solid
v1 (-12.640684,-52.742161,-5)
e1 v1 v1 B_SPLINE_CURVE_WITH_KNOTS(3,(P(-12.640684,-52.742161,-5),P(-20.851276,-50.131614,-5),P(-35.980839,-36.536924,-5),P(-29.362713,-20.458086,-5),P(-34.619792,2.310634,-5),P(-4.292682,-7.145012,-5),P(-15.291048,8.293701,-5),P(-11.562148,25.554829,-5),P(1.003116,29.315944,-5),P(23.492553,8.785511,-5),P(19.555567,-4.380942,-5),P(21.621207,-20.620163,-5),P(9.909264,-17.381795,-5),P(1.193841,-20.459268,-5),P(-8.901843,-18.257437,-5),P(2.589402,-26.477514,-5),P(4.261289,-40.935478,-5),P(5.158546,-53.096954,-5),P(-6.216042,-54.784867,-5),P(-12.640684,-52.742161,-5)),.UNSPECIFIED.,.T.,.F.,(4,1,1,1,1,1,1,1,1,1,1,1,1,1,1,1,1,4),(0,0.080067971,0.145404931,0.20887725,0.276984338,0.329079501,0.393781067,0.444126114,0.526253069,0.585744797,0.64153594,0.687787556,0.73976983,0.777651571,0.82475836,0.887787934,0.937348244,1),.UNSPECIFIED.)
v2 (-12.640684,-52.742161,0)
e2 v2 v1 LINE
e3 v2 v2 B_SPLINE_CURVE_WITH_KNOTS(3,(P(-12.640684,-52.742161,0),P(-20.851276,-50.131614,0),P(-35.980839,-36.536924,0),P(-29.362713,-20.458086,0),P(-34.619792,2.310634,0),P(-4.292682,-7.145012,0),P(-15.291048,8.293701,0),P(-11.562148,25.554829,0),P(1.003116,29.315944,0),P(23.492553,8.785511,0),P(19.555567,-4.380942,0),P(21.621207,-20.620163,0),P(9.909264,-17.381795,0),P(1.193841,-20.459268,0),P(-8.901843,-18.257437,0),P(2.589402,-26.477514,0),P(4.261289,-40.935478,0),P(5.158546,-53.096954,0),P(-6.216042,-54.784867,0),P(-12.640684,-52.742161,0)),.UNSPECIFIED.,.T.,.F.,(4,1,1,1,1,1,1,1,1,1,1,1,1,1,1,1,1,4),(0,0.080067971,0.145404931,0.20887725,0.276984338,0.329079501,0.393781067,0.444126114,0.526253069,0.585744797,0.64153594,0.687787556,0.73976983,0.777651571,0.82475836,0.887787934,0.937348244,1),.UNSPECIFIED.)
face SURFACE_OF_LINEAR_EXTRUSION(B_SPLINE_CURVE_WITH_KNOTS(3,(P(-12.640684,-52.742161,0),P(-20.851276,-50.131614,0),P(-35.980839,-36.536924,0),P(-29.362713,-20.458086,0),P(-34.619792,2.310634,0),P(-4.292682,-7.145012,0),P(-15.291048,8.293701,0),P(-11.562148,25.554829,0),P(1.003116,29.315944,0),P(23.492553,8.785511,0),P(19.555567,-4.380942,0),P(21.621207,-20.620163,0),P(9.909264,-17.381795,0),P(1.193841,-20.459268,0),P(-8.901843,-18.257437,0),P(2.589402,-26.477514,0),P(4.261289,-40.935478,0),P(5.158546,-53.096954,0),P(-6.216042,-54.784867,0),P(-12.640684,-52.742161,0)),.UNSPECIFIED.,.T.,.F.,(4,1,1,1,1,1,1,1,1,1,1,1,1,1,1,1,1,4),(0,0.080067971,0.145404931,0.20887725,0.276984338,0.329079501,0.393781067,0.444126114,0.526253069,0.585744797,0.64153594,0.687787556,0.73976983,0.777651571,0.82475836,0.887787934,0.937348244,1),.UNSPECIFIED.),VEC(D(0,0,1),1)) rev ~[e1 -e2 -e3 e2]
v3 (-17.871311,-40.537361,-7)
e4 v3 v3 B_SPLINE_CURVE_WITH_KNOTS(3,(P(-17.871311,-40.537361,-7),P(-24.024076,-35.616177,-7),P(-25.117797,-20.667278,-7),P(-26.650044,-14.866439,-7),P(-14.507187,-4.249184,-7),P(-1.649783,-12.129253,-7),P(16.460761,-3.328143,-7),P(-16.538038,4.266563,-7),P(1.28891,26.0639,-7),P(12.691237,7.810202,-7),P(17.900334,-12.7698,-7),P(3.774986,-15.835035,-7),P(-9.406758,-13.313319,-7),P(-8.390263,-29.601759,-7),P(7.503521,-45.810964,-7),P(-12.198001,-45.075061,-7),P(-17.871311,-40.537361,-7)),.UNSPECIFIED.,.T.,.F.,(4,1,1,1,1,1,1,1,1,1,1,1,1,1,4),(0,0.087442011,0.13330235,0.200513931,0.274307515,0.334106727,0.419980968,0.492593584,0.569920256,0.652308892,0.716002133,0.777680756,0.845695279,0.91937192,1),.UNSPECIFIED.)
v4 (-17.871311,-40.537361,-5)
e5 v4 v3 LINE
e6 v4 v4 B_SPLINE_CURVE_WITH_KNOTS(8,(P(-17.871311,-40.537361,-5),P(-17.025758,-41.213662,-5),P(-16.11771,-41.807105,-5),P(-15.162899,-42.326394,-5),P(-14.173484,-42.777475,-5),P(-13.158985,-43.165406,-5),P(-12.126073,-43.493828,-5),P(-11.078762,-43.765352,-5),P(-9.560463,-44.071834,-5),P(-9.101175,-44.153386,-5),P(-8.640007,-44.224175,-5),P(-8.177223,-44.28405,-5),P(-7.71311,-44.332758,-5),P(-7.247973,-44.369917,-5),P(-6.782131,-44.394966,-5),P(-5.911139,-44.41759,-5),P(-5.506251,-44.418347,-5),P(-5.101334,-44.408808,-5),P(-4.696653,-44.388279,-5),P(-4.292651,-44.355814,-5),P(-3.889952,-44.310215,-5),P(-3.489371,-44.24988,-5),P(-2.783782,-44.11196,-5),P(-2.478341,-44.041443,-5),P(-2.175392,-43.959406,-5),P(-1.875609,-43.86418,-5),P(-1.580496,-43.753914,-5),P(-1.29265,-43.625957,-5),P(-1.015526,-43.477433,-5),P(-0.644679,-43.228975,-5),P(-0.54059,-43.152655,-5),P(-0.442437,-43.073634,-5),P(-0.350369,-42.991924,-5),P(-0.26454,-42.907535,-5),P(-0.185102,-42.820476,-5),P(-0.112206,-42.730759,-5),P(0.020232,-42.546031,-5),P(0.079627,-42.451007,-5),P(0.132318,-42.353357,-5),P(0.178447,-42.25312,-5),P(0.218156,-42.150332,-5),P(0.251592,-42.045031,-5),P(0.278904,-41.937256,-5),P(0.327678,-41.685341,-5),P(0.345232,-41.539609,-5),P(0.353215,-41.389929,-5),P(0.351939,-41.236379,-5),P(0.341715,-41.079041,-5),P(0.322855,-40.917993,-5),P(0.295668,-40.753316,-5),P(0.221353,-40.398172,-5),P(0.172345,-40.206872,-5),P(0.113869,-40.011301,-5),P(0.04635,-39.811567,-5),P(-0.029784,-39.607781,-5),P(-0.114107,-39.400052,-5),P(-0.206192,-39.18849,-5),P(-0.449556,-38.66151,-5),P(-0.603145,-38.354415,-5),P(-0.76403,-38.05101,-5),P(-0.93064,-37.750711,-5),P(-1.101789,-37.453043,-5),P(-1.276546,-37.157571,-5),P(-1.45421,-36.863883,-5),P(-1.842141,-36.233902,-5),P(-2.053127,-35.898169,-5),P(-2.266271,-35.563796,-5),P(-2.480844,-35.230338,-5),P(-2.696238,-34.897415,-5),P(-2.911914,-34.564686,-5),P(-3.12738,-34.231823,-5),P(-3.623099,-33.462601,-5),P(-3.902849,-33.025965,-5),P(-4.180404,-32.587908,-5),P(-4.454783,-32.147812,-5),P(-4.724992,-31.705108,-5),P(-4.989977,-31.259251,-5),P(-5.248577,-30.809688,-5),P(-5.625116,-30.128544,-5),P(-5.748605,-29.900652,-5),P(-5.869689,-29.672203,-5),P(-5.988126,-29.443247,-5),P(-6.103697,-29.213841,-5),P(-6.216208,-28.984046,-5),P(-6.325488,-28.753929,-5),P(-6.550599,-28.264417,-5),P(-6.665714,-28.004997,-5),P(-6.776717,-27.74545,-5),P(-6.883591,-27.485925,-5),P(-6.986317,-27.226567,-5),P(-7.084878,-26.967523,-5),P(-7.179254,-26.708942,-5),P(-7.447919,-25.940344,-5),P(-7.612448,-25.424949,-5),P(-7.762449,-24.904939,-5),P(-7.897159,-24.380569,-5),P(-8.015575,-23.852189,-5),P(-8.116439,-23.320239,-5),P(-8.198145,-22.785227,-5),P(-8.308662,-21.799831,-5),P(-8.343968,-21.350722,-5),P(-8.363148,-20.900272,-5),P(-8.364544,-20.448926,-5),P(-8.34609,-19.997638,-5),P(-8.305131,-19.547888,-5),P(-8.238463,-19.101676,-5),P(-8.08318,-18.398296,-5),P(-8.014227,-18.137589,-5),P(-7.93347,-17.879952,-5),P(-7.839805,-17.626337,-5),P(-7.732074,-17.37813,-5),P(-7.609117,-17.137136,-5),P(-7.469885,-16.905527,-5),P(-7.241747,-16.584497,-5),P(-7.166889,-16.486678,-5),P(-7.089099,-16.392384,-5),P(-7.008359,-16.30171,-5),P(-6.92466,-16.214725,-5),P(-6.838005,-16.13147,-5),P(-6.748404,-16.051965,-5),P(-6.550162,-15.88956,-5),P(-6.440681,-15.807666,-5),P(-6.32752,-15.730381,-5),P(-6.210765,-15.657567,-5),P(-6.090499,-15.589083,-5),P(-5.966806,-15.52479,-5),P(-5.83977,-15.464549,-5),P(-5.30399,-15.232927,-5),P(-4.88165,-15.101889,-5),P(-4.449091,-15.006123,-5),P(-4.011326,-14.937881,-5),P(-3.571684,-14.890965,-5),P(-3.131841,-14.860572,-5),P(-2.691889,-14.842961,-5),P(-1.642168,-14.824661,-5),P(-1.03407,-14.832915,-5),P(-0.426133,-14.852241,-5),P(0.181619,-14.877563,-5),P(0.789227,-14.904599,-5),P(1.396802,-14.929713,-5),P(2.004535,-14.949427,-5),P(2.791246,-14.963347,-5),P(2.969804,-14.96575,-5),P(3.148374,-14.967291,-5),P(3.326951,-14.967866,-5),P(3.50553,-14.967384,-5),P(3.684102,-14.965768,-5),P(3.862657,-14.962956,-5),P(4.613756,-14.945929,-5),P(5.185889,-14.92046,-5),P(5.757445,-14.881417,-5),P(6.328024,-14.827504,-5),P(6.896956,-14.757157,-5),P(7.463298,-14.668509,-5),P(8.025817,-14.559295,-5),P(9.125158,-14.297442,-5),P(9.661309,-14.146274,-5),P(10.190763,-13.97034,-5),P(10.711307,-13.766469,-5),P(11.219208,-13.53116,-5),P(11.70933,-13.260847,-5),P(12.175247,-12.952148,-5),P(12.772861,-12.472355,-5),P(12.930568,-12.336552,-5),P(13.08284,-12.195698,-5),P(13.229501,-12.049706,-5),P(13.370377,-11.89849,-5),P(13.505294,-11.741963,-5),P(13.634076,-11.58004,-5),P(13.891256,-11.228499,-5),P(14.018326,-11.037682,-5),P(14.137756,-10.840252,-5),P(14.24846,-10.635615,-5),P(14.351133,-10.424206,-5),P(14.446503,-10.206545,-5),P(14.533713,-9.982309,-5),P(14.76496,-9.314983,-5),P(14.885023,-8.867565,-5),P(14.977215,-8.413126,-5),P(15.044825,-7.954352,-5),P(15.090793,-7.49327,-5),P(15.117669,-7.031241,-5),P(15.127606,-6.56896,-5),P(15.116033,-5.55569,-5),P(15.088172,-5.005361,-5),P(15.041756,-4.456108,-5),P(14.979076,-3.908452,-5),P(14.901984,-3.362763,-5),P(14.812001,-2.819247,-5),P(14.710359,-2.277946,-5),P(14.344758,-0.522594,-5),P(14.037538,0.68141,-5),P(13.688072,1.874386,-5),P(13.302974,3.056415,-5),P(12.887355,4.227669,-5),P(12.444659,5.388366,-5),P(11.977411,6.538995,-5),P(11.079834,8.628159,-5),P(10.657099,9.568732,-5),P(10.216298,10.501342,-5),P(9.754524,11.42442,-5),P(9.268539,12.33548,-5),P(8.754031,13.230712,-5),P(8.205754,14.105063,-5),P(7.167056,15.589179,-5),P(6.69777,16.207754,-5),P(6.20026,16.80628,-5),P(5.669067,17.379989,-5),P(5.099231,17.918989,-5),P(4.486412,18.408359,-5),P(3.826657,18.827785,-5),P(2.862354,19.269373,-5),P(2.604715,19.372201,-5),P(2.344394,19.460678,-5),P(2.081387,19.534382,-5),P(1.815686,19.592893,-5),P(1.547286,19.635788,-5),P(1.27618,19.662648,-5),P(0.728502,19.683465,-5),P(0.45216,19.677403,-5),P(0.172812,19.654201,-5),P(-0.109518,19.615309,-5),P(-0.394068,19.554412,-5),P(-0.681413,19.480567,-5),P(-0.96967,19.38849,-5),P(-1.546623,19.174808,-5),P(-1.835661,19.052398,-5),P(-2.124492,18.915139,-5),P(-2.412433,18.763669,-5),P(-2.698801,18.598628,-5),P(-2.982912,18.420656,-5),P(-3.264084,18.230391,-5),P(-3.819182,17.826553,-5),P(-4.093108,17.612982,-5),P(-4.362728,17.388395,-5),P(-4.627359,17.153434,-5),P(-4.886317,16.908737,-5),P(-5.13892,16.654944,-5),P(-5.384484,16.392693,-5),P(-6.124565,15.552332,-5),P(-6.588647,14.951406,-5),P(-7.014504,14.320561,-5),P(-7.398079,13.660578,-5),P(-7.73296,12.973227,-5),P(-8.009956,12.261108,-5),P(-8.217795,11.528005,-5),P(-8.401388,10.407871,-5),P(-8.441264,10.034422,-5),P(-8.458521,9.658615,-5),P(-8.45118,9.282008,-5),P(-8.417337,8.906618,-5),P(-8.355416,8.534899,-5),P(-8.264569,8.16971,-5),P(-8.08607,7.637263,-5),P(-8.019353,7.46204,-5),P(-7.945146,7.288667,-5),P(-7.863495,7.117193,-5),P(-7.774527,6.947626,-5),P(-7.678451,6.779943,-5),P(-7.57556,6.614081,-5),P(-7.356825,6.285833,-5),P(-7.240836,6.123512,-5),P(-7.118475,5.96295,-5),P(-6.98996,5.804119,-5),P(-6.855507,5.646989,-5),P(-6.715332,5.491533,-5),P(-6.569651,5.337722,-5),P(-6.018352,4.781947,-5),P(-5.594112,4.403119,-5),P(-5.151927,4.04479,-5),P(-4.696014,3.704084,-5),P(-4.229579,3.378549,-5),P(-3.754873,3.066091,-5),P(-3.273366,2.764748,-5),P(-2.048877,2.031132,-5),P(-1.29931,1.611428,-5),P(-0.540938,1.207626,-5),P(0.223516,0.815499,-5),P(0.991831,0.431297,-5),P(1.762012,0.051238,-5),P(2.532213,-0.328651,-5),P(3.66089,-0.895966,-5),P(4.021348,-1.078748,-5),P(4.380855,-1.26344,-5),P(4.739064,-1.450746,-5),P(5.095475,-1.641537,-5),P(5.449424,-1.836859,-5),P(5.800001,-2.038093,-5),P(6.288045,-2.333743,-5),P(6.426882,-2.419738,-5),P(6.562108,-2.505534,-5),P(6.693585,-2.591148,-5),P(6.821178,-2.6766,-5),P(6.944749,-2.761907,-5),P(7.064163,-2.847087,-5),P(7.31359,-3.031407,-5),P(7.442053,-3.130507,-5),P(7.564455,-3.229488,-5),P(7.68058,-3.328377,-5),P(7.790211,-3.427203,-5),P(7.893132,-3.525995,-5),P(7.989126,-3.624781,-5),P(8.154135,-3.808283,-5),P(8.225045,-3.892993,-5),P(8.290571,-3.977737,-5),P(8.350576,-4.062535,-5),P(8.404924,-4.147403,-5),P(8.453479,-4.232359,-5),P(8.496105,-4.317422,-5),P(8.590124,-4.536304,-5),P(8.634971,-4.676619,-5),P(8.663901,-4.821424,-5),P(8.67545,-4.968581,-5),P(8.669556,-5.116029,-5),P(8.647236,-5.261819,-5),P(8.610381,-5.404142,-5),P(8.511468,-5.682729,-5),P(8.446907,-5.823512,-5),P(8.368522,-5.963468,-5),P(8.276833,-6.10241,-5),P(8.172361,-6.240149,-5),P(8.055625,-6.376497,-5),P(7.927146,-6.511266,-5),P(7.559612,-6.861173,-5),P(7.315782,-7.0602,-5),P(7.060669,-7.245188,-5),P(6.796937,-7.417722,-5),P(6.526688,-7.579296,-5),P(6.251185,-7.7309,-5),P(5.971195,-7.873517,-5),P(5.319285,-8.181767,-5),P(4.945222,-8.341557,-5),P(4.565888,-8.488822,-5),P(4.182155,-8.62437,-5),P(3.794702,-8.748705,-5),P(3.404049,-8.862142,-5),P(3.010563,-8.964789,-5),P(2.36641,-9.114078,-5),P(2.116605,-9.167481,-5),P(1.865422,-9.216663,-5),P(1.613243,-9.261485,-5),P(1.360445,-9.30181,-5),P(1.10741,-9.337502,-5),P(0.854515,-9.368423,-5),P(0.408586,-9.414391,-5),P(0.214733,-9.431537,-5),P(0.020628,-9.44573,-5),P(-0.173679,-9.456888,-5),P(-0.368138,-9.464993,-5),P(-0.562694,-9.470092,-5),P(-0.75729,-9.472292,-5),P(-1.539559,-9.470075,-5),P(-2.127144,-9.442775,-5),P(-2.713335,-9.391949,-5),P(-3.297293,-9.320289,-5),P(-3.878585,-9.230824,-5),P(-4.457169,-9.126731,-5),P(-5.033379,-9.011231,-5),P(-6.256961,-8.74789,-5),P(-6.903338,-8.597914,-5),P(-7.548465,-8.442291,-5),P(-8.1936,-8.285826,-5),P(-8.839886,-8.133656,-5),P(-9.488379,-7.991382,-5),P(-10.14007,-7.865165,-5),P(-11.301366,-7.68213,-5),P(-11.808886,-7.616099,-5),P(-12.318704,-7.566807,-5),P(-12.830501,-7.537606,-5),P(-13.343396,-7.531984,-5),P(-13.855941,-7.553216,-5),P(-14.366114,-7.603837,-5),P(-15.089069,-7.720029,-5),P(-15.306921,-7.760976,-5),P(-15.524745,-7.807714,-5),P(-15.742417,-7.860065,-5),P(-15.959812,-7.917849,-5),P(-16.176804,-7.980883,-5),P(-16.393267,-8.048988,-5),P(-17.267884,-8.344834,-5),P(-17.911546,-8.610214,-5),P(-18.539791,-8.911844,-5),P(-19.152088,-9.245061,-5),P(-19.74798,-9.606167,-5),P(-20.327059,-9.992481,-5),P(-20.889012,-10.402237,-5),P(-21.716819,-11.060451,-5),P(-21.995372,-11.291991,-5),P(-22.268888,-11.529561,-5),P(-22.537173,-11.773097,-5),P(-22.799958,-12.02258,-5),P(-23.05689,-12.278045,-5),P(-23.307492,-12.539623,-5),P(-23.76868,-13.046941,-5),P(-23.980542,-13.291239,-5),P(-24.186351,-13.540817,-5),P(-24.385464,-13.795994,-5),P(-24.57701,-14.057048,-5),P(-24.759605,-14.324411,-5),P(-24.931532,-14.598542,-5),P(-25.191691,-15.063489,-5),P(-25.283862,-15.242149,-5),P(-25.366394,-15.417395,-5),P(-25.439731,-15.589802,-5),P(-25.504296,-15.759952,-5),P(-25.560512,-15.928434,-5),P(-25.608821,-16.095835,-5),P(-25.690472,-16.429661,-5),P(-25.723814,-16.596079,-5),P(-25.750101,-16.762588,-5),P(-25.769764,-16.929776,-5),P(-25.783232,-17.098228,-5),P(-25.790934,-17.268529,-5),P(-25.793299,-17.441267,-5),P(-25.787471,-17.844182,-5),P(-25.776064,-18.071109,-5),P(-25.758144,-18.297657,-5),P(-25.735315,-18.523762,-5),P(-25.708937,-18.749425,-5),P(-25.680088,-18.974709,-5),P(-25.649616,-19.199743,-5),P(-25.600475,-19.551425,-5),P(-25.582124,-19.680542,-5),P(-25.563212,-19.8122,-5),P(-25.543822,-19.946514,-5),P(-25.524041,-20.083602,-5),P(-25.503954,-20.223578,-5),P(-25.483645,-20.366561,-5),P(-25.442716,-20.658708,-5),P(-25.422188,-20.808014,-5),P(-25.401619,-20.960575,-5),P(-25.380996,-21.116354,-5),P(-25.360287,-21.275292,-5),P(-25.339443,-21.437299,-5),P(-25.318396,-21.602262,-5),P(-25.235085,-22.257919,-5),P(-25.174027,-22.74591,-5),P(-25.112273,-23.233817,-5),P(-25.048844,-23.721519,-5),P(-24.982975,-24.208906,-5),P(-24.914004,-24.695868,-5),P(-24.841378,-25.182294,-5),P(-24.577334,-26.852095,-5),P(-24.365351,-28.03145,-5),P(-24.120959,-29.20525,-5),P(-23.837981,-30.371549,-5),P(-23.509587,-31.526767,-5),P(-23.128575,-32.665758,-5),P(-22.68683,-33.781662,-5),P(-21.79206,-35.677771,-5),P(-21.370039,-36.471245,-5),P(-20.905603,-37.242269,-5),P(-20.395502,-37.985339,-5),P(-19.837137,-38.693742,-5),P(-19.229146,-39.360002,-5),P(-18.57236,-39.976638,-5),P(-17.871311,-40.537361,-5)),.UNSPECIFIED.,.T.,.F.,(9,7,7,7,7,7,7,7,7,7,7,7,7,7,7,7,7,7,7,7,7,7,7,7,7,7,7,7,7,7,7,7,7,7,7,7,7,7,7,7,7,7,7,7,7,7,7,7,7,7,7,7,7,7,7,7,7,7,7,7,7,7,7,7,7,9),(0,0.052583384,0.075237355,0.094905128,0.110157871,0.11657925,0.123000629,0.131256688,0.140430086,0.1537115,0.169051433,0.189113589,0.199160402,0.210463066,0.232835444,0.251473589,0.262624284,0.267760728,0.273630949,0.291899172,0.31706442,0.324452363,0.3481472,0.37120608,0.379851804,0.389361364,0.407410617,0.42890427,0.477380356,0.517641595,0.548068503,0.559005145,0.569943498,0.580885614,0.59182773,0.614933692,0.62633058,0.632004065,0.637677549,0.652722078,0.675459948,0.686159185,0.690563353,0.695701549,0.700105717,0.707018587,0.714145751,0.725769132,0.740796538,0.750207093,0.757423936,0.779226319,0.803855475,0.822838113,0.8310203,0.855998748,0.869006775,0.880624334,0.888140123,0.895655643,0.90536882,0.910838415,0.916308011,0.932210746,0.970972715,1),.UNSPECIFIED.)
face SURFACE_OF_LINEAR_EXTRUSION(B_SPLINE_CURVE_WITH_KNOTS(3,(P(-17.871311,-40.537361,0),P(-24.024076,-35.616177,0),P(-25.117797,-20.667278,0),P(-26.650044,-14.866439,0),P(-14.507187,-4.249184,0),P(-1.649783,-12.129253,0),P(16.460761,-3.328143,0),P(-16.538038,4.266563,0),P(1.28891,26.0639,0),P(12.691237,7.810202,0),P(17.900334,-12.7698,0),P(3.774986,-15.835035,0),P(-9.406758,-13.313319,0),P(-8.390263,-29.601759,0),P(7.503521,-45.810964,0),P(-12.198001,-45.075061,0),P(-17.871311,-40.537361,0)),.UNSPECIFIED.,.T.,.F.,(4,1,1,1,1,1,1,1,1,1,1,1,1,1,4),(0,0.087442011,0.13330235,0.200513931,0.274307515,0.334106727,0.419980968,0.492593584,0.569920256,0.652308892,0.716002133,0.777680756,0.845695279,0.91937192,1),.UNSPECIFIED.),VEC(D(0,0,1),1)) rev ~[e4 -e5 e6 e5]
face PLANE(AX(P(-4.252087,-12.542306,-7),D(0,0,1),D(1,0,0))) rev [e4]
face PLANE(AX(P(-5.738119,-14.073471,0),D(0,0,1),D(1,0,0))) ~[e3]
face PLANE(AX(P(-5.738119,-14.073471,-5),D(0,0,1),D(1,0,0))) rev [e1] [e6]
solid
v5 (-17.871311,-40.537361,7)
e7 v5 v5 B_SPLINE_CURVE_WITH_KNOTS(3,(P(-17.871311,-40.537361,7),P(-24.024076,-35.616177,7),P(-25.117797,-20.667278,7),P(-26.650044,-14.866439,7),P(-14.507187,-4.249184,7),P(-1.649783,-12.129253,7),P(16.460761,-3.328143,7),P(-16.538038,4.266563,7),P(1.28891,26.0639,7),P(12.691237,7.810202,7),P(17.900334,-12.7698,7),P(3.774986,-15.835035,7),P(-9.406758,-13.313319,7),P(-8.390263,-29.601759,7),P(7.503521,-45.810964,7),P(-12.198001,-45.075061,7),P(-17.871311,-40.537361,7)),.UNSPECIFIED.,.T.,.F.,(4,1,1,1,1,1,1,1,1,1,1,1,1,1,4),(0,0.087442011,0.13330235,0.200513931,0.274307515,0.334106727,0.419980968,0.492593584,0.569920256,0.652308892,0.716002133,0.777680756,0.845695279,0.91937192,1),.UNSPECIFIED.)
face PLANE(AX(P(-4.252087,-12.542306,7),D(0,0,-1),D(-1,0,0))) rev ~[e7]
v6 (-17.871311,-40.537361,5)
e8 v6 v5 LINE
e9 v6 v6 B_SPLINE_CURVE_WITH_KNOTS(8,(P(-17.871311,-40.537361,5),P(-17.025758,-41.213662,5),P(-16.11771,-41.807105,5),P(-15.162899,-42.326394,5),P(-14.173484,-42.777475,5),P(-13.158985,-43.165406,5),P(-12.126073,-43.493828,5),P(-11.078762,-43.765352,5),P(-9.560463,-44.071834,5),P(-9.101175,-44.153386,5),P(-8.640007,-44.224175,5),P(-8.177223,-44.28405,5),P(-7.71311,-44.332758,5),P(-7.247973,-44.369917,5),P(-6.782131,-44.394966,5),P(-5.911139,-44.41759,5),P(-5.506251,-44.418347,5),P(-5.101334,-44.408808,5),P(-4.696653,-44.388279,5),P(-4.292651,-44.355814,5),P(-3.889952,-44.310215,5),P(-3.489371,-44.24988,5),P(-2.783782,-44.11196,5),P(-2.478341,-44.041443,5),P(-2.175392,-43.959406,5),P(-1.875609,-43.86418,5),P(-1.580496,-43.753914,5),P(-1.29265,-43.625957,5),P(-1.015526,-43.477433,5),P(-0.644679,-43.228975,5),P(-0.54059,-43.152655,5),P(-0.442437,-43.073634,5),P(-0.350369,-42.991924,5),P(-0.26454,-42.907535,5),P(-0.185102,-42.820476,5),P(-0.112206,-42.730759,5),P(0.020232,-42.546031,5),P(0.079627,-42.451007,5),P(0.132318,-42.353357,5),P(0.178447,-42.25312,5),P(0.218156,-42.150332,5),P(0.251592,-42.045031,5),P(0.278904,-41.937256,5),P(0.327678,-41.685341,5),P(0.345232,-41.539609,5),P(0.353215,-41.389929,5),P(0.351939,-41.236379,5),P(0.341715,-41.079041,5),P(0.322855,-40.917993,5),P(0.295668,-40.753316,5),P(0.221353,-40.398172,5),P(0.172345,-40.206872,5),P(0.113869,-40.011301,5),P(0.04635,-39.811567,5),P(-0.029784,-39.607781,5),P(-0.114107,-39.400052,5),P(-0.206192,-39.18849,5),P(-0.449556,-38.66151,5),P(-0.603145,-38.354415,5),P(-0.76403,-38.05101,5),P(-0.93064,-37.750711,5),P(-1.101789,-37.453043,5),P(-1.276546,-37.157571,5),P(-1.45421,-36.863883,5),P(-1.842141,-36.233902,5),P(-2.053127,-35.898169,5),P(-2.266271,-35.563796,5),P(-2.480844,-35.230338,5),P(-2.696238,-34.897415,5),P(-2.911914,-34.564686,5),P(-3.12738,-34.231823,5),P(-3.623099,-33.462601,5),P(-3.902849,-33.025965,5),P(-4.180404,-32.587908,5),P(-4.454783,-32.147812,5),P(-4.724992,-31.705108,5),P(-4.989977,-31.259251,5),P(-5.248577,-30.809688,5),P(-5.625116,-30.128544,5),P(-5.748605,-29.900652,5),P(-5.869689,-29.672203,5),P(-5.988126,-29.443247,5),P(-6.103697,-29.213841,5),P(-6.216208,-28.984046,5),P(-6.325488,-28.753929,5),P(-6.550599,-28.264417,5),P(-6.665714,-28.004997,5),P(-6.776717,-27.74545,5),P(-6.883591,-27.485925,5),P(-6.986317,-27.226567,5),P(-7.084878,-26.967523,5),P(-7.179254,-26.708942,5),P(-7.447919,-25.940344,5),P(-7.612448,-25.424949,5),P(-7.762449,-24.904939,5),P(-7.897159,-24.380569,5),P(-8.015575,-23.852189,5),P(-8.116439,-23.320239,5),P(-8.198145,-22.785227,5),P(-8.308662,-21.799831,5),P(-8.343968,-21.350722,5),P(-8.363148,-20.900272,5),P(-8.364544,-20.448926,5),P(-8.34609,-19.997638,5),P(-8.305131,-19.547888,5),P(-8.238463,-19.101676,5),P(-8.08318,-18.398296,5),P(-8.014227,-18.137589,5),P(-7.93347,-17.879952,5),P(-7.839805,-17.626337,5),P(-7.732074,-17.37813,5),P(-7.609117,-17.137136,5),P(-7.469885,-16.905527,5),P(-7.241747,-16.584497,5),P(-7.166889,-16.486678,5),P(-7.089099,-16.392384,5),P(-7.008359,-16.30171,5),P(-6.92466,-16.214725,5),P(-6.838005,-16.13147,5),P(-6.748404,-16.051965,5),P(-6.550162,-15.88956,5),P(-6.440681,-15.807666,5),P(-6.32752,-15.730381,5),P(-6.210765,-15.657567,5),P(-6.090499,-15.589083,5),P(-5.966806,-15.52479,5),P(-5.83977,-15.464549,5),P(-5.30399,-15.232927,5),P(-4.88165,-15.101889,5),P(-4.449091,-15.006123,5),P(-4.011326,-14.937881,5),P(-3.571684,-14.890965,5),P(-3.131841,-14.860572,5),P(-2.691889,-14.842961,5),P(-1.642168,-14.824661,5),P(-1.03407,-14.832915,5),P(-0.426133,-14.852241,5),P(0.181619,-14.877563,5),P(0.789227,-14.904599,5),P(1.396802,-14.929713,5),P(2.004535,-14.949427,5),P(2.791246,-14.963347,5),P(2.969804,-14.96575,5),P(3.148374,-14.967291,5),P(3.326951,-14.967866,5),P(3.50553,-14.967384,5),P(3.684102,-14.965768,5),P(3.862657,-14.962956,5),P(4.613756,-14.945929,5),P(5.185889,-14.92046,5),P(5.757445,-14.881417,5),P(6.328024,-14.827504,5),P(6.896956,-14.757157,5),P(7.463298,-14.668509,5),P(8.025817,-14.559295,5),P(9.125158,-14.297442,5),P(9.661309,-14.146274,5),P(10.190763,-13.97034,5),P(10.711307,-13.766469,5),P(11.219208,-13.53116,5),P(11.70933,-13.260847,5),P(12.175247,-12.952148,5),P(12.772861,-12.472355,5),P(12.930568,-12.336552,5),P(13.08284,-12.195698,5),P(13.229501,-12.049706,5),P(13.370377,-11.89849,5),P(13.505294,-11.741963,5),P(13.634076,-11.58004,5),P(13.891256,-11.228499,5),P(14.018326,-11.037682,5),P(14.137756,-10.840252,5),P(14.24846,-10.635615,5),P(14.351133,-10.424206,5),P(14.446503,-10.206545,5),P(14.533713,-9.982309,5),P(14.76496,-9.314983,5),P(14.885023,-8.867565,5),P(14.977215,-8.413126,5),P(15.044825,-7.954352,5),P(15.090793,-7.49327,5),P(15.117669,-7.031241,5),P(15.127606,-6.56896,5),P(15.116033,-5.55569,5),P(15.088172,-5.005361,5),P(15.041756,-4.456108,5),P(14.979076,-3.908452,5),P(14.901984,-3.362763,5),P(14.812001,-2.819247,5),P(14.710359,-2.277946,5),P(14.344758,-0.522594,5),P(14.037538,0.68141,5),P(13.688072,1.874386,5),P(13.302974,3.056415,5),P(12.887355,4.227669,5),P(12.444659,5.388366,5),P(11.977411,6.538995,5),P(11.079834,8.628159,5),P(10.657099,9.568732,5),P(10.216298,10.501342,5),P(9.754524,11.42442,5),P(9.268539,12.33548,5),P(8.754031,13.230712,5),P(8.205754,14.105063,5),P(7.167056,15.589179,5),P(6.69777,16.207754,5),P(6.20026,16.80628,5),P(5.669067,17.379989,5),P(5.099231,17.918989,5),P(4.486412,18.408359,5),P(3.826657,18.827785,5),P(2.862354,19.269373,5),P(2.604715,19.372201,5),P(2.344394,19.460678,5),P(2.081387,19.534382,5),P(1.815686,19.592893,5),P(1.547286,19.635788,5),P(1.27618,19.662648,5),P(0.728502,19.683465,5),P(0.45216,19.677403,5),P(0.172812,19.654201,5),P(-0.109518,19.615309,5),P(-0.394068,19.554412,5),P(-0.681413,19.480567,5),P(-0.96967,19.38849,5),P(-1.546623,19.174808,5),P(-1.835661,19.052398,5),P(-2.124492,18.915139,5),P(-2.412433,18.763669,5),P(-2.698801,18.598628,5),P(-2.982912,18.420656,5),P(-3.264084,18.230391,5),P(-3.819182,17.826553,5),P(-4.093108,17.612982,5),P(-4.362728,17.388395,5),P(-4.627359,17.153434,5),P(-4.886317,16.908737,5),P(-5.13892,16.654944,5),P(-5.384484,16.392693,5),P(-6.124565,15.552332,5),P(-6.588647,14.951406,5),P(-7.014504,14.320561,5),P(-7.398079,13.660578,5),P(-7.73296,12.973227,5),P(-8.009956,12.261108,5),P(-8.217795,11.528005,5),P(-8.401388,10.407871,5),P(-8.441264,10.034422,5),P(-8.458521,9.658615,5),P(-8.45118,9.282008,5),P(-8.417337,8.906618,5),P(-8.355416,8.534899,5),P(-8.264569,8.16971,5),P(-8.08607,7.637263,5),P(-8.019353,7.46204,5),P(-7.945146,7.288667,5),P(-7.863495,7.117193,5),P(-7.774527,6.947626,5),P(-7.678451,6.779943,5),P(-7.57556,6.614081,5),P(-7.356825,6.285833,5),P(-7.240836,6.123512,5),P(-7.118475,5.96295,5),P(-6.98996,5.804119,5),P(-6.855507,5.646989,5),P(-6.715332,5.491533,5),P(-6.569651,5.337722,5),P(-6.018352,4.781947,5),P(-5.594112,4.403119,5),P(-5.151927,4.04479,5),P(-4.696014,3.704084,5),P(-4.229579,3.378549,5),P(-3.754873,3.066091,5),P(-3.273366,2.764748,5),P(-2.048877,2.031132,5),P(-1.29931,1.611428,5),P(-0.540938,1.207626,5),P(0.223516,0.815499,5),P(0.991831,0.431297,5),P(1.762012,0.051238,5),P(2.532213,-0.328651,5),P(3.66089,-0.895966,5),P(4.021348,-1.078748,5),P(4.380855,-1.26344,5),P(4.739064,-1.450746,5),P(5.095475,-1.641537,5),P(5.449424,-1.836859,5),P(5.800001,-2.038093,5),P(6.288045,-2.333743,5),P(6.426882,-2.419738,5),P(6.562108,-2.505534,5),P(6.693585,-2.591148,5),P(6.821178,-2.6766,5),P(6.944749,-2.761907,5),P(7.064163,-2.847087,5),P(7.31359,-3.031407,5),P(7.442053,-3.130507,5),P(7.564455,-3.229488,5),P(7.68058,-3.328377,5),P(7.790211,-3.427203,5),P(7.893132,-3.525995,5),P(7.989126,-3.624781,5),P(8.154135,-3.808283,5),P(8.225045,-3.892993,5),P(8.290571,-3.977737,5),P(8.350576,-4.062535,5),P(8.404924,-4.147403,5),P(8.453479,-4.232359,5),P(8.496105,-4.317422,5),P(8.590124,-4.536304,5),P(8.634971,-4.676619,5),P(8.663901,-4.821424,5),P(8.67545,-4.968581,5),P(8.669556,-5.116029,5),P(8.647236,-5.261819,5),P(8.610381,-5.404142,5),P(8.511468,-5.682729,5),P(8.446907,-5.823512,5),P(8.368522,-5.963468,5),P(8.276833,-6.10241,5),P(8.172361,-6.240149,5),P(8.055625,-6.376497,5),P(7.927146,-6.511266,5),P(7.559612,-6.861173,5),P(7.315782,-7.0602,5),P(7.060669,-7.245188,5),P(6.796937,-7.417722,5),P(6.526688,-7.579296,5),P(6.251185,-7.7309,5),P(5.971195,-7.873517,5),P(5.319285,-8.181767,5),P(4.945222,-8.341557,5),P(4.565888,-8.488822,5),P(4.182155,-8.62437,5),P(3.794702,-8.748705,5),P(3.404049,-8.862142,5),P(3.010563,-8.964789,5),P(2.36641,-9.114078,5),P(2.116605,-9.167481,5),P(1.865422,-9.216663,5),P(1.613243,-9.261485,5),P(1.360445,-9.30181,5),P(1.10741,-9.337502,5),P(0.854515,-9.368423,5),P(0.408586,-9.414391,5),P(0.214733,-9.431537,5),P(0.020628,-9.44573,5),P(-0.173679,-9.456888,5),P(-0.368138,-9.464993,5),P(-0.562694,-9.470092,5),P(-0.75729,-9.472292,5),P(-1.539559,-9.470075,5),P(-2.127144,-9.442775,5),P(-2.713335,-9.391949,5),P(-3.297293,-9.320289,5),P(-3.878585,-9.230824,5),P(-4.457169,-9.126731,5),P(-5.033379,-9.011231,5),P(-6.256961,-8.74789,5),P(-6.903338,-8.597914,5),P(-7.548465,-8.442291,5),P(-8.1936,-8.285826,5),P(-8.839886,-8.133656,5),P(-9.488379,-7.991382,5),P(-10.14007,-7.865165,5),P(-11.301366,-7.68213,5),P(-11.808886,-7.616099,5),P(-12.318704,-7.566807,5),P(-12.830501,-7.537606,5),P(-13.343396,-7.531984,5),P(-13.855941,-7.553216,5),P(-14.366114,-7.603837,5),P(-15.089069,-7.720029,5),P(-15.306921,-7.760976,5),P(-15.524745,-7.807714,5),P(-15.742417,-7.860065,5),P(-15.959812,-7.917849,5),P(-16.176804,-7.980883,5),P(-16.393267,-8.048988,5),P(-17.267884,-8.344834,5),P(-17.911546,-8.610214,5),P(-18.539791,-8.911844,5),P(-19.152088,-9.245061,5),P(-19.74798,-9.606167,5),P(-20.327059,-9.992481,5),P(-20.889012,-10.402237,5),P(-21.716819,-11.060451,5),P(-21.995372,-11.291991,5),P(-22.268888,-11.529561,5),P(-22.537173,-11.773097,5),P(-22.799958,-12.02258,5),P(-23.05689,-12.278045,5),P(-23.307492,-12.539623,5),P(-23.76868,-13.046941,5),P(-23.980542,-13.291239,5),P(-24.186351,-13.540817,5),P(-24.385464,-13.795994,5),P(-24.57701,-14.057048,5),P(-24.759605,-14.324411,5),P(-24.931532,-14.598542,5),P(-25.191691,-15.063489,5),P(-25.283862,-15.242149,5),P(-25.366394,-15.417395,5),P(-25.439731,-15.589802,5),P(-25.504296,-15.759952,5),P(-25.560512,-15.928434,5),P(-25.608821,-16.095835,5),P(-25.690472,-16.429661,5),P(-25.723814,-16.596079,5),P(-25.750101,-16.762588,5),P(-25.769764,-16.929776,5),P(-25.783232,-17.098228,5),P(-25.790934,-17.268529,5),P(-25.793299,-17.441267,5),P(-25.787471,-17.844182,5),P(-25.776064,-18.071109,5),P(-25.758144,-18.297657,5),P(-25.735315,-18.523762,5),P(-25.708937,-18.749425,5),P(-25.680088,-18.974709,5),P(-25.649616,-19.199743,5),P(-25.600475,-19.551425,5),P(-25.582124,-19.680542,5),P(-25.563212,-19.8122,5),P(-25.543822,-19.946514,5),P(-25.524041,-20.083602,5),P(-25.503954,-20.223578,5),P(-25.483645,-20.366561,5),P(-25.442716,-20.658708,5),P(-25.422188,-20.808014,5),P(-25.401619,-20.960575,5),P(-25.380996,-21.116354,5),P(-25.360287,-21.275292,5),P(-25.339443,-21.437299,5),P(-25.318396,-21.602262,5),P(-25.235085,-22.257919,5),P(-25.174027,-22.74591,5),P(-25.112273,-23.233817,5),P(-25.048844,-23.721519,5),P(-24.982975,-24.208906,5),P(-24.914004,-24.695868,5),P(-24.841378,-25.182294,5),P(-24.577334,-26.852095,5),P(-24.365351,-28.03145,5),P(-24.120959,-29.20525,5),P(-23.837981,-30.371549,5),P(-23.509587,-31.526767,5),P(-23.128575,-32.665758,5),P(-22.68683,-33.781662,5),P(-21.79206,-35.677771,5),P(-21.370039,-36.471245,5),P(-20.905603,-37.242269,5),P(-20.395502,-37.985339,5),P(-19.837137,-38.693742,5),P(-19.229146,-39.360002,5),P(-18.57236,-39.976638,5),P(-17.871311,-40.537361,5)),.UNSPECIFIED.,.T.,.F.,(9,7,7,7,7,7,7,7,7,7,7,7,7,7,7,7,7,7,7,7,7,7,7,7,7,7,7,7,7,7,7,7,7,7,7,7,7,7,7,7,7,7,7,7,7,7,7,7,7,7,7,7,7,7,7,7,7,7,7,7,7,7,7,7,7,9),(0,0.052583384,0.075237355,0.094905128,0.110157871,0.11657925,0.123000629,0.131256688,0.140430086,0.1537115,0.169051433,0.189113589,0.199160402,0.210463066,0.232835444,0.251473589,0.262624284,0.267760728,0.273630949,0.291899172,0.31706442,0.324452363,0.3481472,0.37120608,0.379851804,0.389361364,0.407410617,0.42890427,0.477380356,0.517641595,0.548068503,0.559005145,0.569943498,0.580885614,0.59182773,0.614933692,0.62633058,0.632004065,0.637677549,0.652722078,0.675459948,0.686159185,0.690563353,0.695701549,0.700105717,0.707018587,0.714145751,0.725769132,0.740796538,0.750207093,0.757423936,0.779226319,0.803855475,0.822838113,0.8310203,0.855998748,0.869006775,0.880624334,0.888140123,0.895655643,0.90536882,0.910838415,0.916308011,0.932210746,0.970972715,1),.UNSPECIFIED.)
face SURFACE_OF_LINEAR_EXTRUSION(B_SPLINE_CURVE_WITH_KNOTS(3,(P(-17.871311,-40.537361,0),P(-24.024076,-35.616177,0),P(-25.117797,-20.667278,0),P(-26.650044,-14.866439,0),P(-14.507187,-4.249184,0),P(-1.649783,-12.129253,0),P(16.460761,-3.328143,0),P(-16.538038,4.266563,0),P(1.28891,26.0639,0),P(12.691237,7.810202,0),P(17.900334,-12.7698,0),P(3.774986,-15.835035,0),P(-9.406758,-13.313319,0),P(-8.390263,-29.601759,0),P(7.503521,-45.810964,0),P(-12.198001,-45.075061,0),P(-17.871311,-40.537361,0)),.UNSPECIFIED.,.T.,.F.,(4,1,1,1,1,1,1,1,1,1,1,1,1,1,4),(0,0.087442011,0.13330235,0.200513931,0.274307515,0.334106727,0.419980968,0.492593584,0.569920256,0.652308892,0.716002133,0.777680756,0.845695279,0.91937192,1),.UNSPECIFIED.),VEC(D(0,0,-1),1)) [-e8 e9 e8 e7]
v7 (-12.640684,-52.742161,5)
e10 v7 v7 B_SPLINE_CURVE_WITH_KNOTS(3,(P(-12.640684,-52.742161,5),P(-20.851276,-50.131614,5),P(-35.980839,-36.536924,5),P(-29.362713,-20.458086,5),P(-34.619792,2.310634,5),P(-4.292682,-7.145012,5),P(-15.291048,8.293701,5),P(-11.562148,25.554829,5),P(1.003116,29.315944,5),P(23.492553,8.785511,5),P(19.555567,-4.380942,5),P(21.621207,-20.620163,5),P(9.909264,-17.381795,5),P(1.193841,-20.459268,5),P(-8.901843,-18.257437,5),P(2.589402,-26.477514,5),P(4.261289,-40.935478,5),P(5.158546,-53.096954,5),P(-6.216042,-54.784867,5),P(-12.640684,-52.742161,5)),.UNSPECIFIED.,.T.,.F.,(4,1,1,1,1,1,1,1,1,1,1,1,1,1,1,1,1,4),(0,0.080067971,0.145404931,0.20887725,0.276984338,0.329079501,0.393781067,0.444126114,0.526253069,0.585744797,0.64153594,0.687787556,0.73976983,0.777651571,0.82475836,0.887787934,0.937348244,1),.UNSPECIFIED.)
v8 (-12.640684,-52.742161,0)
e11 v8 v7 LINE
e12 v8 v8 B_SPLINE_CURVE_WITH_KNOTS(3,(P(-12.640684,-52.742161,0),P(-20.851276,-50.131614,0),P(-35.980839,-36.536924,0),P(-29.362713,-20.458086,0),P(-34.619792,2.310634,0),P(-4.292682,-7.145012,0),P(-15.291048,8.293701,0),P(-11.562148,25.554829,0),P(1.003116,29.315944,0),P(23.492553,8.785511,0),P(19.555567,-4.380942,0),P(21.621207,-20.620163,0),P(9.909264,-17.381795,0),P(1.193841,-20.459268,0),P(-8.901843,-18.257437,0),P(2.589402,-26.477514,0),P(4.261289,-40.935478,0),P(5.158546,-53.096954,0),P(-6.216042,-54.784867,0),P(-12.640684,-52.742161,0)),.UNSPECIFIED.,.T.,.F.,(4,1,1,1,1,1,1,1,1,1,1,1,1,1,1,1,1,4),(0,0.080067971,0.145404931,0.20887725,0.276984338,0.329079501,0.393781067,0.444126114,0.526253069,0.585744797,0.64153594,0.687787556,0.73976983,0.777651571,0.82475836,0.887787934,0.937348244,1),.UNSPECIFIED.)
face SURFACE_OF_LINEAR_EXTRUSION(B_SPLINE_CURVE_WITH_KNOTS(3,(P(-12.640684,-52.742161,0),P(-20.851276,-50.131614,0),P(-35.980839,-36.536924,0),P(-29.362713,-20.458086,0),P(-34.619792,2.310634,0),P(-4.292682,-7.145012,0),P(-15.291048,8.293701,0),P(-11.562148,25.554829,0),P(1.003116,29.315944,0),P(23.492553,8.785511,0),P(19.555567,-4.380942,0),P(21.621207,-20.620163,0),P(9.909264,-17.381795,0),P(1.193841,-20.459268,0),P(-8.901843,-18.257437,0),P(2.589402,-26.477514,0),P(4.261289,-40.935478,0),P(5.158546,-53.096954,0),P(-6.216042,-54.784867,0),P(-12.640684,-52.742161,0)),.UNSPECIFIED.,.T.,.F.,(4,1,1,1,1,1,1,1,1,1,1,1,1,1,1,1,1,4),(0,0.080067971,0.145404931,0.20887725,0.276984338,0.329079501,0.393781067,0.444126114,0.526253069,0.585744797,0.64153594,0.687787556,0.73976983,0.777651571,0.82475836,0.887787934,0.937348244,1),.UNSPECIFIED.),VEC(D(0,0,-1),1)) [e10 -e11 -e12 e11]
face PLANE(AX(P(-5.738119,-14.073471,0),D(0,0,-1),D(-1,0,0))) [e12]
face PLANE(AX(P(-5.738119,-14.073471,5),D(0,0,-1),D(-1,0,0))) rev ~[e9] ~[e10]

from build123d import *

# Parameters (mm, degrees)
F2_DEPTH = 7
F3_DEPTH = 5


with BuildPart() as f2:
    # F0 (on Top) → F2 (new body)
    with BuildSketch(Plane.XY):
        with BuildLine():
            add(Edge.make_bspline(
                [(-17.8713109344, -40.5373610556), (-24.0240759744, -35.6161773963), (-25.1177971872, -20.6672784548), (-26.6500444523, -14.8664389418), (-14.5071871698, -4.2491838566), (-1.649783109, -12.1292533801), (16.4607609725, -3.3281432701), (-16.538038142, 4.2665632977), (1.2889101148, 26.0639000956), (12.6912369854, 7.8102023268), (17.9003340232, -12.7697997729), (3.7749863646, -15.8350352296), (-9.4067584295, -13.3133186383), (-8.3902629388, -29.6017591012), (7.5035205706, -45.8109641236), (-12.1980010113, -45.0750607575), (-17.8713109344, -40.5373610556)],
                knots=[0, 0, 0, 0, 0.0874420115, 0.1333023503, 0.2005139306, 0.2743075145, 0.3341067271, 0.4199809676, 0.4925935843, 0.569920256, 0.6523088916, 0.7160021335, 0.7776807562, 0.8456952792, 0.9193719201, 1, 1, 1, 1], degree=3))
        make_face()
    extrude(amount=F2_DEPTH)

    # F1 (on Top) → F3 (join)
    with BuildSketch(Plane.XY):
        with BuildLine():
            add(Edge.make_bspline(
                [(-12.6406839117, -52.7421608567), (-20.8512761989, -50.1316137614), (-35.9808388201, -36.536924122), (-29.3627126863, -20.4580857344), (-34.6197921609, 2.3106340755), (-4.2926821737, -7.1450121162), (-15.2910482882, 8.2937005524), (-11.5621484503, 25.5548285616), (1.0031162706, 29.3159437588), (23.4925527688, 8.7855105077), (19.5555670787, -4.3809418269), (21.6212072629, -20.6201625507), (9.9092638329, -17.3817951243), (1.1938405233, -20.4592682277), (-8.9018429364, -18.2574372828), (2.5894024854, -26.4775138496), (4.2612893018, -40.935477507), (5.1585464041, -53.0969539047), (-6.2160421876, -54.7848673028), (-12.6406839117, -52.7421608567)],
                knots=[0, 0, 0, 0, 0.0800679705, 0.1454049314, 0.2088772499, 0.2769843377, 0.3290795013, 0.3937810674, 0.4441261142, 0.5262530687, 0.5857447966, 0.6415359402, 0.6877875562, 0.7397698295, 0.7776515712, 0.8247583603, 0.8877879338, 0.9373482441, 1, 1, 1, 1], degree=3))
        make_face()
    extrude(amount=F3_DEPTH)


with BuildPart() as f4_1:
    # F4: instance of F2
    add(f2.part.mirror(Plane(origin=(-6.2107267742, -14.2143263337, 0), x_dir=(1, 0, 0), z_dir=(0, 0, -1))))


solid = Compound([f2.part, f4_1.part])
